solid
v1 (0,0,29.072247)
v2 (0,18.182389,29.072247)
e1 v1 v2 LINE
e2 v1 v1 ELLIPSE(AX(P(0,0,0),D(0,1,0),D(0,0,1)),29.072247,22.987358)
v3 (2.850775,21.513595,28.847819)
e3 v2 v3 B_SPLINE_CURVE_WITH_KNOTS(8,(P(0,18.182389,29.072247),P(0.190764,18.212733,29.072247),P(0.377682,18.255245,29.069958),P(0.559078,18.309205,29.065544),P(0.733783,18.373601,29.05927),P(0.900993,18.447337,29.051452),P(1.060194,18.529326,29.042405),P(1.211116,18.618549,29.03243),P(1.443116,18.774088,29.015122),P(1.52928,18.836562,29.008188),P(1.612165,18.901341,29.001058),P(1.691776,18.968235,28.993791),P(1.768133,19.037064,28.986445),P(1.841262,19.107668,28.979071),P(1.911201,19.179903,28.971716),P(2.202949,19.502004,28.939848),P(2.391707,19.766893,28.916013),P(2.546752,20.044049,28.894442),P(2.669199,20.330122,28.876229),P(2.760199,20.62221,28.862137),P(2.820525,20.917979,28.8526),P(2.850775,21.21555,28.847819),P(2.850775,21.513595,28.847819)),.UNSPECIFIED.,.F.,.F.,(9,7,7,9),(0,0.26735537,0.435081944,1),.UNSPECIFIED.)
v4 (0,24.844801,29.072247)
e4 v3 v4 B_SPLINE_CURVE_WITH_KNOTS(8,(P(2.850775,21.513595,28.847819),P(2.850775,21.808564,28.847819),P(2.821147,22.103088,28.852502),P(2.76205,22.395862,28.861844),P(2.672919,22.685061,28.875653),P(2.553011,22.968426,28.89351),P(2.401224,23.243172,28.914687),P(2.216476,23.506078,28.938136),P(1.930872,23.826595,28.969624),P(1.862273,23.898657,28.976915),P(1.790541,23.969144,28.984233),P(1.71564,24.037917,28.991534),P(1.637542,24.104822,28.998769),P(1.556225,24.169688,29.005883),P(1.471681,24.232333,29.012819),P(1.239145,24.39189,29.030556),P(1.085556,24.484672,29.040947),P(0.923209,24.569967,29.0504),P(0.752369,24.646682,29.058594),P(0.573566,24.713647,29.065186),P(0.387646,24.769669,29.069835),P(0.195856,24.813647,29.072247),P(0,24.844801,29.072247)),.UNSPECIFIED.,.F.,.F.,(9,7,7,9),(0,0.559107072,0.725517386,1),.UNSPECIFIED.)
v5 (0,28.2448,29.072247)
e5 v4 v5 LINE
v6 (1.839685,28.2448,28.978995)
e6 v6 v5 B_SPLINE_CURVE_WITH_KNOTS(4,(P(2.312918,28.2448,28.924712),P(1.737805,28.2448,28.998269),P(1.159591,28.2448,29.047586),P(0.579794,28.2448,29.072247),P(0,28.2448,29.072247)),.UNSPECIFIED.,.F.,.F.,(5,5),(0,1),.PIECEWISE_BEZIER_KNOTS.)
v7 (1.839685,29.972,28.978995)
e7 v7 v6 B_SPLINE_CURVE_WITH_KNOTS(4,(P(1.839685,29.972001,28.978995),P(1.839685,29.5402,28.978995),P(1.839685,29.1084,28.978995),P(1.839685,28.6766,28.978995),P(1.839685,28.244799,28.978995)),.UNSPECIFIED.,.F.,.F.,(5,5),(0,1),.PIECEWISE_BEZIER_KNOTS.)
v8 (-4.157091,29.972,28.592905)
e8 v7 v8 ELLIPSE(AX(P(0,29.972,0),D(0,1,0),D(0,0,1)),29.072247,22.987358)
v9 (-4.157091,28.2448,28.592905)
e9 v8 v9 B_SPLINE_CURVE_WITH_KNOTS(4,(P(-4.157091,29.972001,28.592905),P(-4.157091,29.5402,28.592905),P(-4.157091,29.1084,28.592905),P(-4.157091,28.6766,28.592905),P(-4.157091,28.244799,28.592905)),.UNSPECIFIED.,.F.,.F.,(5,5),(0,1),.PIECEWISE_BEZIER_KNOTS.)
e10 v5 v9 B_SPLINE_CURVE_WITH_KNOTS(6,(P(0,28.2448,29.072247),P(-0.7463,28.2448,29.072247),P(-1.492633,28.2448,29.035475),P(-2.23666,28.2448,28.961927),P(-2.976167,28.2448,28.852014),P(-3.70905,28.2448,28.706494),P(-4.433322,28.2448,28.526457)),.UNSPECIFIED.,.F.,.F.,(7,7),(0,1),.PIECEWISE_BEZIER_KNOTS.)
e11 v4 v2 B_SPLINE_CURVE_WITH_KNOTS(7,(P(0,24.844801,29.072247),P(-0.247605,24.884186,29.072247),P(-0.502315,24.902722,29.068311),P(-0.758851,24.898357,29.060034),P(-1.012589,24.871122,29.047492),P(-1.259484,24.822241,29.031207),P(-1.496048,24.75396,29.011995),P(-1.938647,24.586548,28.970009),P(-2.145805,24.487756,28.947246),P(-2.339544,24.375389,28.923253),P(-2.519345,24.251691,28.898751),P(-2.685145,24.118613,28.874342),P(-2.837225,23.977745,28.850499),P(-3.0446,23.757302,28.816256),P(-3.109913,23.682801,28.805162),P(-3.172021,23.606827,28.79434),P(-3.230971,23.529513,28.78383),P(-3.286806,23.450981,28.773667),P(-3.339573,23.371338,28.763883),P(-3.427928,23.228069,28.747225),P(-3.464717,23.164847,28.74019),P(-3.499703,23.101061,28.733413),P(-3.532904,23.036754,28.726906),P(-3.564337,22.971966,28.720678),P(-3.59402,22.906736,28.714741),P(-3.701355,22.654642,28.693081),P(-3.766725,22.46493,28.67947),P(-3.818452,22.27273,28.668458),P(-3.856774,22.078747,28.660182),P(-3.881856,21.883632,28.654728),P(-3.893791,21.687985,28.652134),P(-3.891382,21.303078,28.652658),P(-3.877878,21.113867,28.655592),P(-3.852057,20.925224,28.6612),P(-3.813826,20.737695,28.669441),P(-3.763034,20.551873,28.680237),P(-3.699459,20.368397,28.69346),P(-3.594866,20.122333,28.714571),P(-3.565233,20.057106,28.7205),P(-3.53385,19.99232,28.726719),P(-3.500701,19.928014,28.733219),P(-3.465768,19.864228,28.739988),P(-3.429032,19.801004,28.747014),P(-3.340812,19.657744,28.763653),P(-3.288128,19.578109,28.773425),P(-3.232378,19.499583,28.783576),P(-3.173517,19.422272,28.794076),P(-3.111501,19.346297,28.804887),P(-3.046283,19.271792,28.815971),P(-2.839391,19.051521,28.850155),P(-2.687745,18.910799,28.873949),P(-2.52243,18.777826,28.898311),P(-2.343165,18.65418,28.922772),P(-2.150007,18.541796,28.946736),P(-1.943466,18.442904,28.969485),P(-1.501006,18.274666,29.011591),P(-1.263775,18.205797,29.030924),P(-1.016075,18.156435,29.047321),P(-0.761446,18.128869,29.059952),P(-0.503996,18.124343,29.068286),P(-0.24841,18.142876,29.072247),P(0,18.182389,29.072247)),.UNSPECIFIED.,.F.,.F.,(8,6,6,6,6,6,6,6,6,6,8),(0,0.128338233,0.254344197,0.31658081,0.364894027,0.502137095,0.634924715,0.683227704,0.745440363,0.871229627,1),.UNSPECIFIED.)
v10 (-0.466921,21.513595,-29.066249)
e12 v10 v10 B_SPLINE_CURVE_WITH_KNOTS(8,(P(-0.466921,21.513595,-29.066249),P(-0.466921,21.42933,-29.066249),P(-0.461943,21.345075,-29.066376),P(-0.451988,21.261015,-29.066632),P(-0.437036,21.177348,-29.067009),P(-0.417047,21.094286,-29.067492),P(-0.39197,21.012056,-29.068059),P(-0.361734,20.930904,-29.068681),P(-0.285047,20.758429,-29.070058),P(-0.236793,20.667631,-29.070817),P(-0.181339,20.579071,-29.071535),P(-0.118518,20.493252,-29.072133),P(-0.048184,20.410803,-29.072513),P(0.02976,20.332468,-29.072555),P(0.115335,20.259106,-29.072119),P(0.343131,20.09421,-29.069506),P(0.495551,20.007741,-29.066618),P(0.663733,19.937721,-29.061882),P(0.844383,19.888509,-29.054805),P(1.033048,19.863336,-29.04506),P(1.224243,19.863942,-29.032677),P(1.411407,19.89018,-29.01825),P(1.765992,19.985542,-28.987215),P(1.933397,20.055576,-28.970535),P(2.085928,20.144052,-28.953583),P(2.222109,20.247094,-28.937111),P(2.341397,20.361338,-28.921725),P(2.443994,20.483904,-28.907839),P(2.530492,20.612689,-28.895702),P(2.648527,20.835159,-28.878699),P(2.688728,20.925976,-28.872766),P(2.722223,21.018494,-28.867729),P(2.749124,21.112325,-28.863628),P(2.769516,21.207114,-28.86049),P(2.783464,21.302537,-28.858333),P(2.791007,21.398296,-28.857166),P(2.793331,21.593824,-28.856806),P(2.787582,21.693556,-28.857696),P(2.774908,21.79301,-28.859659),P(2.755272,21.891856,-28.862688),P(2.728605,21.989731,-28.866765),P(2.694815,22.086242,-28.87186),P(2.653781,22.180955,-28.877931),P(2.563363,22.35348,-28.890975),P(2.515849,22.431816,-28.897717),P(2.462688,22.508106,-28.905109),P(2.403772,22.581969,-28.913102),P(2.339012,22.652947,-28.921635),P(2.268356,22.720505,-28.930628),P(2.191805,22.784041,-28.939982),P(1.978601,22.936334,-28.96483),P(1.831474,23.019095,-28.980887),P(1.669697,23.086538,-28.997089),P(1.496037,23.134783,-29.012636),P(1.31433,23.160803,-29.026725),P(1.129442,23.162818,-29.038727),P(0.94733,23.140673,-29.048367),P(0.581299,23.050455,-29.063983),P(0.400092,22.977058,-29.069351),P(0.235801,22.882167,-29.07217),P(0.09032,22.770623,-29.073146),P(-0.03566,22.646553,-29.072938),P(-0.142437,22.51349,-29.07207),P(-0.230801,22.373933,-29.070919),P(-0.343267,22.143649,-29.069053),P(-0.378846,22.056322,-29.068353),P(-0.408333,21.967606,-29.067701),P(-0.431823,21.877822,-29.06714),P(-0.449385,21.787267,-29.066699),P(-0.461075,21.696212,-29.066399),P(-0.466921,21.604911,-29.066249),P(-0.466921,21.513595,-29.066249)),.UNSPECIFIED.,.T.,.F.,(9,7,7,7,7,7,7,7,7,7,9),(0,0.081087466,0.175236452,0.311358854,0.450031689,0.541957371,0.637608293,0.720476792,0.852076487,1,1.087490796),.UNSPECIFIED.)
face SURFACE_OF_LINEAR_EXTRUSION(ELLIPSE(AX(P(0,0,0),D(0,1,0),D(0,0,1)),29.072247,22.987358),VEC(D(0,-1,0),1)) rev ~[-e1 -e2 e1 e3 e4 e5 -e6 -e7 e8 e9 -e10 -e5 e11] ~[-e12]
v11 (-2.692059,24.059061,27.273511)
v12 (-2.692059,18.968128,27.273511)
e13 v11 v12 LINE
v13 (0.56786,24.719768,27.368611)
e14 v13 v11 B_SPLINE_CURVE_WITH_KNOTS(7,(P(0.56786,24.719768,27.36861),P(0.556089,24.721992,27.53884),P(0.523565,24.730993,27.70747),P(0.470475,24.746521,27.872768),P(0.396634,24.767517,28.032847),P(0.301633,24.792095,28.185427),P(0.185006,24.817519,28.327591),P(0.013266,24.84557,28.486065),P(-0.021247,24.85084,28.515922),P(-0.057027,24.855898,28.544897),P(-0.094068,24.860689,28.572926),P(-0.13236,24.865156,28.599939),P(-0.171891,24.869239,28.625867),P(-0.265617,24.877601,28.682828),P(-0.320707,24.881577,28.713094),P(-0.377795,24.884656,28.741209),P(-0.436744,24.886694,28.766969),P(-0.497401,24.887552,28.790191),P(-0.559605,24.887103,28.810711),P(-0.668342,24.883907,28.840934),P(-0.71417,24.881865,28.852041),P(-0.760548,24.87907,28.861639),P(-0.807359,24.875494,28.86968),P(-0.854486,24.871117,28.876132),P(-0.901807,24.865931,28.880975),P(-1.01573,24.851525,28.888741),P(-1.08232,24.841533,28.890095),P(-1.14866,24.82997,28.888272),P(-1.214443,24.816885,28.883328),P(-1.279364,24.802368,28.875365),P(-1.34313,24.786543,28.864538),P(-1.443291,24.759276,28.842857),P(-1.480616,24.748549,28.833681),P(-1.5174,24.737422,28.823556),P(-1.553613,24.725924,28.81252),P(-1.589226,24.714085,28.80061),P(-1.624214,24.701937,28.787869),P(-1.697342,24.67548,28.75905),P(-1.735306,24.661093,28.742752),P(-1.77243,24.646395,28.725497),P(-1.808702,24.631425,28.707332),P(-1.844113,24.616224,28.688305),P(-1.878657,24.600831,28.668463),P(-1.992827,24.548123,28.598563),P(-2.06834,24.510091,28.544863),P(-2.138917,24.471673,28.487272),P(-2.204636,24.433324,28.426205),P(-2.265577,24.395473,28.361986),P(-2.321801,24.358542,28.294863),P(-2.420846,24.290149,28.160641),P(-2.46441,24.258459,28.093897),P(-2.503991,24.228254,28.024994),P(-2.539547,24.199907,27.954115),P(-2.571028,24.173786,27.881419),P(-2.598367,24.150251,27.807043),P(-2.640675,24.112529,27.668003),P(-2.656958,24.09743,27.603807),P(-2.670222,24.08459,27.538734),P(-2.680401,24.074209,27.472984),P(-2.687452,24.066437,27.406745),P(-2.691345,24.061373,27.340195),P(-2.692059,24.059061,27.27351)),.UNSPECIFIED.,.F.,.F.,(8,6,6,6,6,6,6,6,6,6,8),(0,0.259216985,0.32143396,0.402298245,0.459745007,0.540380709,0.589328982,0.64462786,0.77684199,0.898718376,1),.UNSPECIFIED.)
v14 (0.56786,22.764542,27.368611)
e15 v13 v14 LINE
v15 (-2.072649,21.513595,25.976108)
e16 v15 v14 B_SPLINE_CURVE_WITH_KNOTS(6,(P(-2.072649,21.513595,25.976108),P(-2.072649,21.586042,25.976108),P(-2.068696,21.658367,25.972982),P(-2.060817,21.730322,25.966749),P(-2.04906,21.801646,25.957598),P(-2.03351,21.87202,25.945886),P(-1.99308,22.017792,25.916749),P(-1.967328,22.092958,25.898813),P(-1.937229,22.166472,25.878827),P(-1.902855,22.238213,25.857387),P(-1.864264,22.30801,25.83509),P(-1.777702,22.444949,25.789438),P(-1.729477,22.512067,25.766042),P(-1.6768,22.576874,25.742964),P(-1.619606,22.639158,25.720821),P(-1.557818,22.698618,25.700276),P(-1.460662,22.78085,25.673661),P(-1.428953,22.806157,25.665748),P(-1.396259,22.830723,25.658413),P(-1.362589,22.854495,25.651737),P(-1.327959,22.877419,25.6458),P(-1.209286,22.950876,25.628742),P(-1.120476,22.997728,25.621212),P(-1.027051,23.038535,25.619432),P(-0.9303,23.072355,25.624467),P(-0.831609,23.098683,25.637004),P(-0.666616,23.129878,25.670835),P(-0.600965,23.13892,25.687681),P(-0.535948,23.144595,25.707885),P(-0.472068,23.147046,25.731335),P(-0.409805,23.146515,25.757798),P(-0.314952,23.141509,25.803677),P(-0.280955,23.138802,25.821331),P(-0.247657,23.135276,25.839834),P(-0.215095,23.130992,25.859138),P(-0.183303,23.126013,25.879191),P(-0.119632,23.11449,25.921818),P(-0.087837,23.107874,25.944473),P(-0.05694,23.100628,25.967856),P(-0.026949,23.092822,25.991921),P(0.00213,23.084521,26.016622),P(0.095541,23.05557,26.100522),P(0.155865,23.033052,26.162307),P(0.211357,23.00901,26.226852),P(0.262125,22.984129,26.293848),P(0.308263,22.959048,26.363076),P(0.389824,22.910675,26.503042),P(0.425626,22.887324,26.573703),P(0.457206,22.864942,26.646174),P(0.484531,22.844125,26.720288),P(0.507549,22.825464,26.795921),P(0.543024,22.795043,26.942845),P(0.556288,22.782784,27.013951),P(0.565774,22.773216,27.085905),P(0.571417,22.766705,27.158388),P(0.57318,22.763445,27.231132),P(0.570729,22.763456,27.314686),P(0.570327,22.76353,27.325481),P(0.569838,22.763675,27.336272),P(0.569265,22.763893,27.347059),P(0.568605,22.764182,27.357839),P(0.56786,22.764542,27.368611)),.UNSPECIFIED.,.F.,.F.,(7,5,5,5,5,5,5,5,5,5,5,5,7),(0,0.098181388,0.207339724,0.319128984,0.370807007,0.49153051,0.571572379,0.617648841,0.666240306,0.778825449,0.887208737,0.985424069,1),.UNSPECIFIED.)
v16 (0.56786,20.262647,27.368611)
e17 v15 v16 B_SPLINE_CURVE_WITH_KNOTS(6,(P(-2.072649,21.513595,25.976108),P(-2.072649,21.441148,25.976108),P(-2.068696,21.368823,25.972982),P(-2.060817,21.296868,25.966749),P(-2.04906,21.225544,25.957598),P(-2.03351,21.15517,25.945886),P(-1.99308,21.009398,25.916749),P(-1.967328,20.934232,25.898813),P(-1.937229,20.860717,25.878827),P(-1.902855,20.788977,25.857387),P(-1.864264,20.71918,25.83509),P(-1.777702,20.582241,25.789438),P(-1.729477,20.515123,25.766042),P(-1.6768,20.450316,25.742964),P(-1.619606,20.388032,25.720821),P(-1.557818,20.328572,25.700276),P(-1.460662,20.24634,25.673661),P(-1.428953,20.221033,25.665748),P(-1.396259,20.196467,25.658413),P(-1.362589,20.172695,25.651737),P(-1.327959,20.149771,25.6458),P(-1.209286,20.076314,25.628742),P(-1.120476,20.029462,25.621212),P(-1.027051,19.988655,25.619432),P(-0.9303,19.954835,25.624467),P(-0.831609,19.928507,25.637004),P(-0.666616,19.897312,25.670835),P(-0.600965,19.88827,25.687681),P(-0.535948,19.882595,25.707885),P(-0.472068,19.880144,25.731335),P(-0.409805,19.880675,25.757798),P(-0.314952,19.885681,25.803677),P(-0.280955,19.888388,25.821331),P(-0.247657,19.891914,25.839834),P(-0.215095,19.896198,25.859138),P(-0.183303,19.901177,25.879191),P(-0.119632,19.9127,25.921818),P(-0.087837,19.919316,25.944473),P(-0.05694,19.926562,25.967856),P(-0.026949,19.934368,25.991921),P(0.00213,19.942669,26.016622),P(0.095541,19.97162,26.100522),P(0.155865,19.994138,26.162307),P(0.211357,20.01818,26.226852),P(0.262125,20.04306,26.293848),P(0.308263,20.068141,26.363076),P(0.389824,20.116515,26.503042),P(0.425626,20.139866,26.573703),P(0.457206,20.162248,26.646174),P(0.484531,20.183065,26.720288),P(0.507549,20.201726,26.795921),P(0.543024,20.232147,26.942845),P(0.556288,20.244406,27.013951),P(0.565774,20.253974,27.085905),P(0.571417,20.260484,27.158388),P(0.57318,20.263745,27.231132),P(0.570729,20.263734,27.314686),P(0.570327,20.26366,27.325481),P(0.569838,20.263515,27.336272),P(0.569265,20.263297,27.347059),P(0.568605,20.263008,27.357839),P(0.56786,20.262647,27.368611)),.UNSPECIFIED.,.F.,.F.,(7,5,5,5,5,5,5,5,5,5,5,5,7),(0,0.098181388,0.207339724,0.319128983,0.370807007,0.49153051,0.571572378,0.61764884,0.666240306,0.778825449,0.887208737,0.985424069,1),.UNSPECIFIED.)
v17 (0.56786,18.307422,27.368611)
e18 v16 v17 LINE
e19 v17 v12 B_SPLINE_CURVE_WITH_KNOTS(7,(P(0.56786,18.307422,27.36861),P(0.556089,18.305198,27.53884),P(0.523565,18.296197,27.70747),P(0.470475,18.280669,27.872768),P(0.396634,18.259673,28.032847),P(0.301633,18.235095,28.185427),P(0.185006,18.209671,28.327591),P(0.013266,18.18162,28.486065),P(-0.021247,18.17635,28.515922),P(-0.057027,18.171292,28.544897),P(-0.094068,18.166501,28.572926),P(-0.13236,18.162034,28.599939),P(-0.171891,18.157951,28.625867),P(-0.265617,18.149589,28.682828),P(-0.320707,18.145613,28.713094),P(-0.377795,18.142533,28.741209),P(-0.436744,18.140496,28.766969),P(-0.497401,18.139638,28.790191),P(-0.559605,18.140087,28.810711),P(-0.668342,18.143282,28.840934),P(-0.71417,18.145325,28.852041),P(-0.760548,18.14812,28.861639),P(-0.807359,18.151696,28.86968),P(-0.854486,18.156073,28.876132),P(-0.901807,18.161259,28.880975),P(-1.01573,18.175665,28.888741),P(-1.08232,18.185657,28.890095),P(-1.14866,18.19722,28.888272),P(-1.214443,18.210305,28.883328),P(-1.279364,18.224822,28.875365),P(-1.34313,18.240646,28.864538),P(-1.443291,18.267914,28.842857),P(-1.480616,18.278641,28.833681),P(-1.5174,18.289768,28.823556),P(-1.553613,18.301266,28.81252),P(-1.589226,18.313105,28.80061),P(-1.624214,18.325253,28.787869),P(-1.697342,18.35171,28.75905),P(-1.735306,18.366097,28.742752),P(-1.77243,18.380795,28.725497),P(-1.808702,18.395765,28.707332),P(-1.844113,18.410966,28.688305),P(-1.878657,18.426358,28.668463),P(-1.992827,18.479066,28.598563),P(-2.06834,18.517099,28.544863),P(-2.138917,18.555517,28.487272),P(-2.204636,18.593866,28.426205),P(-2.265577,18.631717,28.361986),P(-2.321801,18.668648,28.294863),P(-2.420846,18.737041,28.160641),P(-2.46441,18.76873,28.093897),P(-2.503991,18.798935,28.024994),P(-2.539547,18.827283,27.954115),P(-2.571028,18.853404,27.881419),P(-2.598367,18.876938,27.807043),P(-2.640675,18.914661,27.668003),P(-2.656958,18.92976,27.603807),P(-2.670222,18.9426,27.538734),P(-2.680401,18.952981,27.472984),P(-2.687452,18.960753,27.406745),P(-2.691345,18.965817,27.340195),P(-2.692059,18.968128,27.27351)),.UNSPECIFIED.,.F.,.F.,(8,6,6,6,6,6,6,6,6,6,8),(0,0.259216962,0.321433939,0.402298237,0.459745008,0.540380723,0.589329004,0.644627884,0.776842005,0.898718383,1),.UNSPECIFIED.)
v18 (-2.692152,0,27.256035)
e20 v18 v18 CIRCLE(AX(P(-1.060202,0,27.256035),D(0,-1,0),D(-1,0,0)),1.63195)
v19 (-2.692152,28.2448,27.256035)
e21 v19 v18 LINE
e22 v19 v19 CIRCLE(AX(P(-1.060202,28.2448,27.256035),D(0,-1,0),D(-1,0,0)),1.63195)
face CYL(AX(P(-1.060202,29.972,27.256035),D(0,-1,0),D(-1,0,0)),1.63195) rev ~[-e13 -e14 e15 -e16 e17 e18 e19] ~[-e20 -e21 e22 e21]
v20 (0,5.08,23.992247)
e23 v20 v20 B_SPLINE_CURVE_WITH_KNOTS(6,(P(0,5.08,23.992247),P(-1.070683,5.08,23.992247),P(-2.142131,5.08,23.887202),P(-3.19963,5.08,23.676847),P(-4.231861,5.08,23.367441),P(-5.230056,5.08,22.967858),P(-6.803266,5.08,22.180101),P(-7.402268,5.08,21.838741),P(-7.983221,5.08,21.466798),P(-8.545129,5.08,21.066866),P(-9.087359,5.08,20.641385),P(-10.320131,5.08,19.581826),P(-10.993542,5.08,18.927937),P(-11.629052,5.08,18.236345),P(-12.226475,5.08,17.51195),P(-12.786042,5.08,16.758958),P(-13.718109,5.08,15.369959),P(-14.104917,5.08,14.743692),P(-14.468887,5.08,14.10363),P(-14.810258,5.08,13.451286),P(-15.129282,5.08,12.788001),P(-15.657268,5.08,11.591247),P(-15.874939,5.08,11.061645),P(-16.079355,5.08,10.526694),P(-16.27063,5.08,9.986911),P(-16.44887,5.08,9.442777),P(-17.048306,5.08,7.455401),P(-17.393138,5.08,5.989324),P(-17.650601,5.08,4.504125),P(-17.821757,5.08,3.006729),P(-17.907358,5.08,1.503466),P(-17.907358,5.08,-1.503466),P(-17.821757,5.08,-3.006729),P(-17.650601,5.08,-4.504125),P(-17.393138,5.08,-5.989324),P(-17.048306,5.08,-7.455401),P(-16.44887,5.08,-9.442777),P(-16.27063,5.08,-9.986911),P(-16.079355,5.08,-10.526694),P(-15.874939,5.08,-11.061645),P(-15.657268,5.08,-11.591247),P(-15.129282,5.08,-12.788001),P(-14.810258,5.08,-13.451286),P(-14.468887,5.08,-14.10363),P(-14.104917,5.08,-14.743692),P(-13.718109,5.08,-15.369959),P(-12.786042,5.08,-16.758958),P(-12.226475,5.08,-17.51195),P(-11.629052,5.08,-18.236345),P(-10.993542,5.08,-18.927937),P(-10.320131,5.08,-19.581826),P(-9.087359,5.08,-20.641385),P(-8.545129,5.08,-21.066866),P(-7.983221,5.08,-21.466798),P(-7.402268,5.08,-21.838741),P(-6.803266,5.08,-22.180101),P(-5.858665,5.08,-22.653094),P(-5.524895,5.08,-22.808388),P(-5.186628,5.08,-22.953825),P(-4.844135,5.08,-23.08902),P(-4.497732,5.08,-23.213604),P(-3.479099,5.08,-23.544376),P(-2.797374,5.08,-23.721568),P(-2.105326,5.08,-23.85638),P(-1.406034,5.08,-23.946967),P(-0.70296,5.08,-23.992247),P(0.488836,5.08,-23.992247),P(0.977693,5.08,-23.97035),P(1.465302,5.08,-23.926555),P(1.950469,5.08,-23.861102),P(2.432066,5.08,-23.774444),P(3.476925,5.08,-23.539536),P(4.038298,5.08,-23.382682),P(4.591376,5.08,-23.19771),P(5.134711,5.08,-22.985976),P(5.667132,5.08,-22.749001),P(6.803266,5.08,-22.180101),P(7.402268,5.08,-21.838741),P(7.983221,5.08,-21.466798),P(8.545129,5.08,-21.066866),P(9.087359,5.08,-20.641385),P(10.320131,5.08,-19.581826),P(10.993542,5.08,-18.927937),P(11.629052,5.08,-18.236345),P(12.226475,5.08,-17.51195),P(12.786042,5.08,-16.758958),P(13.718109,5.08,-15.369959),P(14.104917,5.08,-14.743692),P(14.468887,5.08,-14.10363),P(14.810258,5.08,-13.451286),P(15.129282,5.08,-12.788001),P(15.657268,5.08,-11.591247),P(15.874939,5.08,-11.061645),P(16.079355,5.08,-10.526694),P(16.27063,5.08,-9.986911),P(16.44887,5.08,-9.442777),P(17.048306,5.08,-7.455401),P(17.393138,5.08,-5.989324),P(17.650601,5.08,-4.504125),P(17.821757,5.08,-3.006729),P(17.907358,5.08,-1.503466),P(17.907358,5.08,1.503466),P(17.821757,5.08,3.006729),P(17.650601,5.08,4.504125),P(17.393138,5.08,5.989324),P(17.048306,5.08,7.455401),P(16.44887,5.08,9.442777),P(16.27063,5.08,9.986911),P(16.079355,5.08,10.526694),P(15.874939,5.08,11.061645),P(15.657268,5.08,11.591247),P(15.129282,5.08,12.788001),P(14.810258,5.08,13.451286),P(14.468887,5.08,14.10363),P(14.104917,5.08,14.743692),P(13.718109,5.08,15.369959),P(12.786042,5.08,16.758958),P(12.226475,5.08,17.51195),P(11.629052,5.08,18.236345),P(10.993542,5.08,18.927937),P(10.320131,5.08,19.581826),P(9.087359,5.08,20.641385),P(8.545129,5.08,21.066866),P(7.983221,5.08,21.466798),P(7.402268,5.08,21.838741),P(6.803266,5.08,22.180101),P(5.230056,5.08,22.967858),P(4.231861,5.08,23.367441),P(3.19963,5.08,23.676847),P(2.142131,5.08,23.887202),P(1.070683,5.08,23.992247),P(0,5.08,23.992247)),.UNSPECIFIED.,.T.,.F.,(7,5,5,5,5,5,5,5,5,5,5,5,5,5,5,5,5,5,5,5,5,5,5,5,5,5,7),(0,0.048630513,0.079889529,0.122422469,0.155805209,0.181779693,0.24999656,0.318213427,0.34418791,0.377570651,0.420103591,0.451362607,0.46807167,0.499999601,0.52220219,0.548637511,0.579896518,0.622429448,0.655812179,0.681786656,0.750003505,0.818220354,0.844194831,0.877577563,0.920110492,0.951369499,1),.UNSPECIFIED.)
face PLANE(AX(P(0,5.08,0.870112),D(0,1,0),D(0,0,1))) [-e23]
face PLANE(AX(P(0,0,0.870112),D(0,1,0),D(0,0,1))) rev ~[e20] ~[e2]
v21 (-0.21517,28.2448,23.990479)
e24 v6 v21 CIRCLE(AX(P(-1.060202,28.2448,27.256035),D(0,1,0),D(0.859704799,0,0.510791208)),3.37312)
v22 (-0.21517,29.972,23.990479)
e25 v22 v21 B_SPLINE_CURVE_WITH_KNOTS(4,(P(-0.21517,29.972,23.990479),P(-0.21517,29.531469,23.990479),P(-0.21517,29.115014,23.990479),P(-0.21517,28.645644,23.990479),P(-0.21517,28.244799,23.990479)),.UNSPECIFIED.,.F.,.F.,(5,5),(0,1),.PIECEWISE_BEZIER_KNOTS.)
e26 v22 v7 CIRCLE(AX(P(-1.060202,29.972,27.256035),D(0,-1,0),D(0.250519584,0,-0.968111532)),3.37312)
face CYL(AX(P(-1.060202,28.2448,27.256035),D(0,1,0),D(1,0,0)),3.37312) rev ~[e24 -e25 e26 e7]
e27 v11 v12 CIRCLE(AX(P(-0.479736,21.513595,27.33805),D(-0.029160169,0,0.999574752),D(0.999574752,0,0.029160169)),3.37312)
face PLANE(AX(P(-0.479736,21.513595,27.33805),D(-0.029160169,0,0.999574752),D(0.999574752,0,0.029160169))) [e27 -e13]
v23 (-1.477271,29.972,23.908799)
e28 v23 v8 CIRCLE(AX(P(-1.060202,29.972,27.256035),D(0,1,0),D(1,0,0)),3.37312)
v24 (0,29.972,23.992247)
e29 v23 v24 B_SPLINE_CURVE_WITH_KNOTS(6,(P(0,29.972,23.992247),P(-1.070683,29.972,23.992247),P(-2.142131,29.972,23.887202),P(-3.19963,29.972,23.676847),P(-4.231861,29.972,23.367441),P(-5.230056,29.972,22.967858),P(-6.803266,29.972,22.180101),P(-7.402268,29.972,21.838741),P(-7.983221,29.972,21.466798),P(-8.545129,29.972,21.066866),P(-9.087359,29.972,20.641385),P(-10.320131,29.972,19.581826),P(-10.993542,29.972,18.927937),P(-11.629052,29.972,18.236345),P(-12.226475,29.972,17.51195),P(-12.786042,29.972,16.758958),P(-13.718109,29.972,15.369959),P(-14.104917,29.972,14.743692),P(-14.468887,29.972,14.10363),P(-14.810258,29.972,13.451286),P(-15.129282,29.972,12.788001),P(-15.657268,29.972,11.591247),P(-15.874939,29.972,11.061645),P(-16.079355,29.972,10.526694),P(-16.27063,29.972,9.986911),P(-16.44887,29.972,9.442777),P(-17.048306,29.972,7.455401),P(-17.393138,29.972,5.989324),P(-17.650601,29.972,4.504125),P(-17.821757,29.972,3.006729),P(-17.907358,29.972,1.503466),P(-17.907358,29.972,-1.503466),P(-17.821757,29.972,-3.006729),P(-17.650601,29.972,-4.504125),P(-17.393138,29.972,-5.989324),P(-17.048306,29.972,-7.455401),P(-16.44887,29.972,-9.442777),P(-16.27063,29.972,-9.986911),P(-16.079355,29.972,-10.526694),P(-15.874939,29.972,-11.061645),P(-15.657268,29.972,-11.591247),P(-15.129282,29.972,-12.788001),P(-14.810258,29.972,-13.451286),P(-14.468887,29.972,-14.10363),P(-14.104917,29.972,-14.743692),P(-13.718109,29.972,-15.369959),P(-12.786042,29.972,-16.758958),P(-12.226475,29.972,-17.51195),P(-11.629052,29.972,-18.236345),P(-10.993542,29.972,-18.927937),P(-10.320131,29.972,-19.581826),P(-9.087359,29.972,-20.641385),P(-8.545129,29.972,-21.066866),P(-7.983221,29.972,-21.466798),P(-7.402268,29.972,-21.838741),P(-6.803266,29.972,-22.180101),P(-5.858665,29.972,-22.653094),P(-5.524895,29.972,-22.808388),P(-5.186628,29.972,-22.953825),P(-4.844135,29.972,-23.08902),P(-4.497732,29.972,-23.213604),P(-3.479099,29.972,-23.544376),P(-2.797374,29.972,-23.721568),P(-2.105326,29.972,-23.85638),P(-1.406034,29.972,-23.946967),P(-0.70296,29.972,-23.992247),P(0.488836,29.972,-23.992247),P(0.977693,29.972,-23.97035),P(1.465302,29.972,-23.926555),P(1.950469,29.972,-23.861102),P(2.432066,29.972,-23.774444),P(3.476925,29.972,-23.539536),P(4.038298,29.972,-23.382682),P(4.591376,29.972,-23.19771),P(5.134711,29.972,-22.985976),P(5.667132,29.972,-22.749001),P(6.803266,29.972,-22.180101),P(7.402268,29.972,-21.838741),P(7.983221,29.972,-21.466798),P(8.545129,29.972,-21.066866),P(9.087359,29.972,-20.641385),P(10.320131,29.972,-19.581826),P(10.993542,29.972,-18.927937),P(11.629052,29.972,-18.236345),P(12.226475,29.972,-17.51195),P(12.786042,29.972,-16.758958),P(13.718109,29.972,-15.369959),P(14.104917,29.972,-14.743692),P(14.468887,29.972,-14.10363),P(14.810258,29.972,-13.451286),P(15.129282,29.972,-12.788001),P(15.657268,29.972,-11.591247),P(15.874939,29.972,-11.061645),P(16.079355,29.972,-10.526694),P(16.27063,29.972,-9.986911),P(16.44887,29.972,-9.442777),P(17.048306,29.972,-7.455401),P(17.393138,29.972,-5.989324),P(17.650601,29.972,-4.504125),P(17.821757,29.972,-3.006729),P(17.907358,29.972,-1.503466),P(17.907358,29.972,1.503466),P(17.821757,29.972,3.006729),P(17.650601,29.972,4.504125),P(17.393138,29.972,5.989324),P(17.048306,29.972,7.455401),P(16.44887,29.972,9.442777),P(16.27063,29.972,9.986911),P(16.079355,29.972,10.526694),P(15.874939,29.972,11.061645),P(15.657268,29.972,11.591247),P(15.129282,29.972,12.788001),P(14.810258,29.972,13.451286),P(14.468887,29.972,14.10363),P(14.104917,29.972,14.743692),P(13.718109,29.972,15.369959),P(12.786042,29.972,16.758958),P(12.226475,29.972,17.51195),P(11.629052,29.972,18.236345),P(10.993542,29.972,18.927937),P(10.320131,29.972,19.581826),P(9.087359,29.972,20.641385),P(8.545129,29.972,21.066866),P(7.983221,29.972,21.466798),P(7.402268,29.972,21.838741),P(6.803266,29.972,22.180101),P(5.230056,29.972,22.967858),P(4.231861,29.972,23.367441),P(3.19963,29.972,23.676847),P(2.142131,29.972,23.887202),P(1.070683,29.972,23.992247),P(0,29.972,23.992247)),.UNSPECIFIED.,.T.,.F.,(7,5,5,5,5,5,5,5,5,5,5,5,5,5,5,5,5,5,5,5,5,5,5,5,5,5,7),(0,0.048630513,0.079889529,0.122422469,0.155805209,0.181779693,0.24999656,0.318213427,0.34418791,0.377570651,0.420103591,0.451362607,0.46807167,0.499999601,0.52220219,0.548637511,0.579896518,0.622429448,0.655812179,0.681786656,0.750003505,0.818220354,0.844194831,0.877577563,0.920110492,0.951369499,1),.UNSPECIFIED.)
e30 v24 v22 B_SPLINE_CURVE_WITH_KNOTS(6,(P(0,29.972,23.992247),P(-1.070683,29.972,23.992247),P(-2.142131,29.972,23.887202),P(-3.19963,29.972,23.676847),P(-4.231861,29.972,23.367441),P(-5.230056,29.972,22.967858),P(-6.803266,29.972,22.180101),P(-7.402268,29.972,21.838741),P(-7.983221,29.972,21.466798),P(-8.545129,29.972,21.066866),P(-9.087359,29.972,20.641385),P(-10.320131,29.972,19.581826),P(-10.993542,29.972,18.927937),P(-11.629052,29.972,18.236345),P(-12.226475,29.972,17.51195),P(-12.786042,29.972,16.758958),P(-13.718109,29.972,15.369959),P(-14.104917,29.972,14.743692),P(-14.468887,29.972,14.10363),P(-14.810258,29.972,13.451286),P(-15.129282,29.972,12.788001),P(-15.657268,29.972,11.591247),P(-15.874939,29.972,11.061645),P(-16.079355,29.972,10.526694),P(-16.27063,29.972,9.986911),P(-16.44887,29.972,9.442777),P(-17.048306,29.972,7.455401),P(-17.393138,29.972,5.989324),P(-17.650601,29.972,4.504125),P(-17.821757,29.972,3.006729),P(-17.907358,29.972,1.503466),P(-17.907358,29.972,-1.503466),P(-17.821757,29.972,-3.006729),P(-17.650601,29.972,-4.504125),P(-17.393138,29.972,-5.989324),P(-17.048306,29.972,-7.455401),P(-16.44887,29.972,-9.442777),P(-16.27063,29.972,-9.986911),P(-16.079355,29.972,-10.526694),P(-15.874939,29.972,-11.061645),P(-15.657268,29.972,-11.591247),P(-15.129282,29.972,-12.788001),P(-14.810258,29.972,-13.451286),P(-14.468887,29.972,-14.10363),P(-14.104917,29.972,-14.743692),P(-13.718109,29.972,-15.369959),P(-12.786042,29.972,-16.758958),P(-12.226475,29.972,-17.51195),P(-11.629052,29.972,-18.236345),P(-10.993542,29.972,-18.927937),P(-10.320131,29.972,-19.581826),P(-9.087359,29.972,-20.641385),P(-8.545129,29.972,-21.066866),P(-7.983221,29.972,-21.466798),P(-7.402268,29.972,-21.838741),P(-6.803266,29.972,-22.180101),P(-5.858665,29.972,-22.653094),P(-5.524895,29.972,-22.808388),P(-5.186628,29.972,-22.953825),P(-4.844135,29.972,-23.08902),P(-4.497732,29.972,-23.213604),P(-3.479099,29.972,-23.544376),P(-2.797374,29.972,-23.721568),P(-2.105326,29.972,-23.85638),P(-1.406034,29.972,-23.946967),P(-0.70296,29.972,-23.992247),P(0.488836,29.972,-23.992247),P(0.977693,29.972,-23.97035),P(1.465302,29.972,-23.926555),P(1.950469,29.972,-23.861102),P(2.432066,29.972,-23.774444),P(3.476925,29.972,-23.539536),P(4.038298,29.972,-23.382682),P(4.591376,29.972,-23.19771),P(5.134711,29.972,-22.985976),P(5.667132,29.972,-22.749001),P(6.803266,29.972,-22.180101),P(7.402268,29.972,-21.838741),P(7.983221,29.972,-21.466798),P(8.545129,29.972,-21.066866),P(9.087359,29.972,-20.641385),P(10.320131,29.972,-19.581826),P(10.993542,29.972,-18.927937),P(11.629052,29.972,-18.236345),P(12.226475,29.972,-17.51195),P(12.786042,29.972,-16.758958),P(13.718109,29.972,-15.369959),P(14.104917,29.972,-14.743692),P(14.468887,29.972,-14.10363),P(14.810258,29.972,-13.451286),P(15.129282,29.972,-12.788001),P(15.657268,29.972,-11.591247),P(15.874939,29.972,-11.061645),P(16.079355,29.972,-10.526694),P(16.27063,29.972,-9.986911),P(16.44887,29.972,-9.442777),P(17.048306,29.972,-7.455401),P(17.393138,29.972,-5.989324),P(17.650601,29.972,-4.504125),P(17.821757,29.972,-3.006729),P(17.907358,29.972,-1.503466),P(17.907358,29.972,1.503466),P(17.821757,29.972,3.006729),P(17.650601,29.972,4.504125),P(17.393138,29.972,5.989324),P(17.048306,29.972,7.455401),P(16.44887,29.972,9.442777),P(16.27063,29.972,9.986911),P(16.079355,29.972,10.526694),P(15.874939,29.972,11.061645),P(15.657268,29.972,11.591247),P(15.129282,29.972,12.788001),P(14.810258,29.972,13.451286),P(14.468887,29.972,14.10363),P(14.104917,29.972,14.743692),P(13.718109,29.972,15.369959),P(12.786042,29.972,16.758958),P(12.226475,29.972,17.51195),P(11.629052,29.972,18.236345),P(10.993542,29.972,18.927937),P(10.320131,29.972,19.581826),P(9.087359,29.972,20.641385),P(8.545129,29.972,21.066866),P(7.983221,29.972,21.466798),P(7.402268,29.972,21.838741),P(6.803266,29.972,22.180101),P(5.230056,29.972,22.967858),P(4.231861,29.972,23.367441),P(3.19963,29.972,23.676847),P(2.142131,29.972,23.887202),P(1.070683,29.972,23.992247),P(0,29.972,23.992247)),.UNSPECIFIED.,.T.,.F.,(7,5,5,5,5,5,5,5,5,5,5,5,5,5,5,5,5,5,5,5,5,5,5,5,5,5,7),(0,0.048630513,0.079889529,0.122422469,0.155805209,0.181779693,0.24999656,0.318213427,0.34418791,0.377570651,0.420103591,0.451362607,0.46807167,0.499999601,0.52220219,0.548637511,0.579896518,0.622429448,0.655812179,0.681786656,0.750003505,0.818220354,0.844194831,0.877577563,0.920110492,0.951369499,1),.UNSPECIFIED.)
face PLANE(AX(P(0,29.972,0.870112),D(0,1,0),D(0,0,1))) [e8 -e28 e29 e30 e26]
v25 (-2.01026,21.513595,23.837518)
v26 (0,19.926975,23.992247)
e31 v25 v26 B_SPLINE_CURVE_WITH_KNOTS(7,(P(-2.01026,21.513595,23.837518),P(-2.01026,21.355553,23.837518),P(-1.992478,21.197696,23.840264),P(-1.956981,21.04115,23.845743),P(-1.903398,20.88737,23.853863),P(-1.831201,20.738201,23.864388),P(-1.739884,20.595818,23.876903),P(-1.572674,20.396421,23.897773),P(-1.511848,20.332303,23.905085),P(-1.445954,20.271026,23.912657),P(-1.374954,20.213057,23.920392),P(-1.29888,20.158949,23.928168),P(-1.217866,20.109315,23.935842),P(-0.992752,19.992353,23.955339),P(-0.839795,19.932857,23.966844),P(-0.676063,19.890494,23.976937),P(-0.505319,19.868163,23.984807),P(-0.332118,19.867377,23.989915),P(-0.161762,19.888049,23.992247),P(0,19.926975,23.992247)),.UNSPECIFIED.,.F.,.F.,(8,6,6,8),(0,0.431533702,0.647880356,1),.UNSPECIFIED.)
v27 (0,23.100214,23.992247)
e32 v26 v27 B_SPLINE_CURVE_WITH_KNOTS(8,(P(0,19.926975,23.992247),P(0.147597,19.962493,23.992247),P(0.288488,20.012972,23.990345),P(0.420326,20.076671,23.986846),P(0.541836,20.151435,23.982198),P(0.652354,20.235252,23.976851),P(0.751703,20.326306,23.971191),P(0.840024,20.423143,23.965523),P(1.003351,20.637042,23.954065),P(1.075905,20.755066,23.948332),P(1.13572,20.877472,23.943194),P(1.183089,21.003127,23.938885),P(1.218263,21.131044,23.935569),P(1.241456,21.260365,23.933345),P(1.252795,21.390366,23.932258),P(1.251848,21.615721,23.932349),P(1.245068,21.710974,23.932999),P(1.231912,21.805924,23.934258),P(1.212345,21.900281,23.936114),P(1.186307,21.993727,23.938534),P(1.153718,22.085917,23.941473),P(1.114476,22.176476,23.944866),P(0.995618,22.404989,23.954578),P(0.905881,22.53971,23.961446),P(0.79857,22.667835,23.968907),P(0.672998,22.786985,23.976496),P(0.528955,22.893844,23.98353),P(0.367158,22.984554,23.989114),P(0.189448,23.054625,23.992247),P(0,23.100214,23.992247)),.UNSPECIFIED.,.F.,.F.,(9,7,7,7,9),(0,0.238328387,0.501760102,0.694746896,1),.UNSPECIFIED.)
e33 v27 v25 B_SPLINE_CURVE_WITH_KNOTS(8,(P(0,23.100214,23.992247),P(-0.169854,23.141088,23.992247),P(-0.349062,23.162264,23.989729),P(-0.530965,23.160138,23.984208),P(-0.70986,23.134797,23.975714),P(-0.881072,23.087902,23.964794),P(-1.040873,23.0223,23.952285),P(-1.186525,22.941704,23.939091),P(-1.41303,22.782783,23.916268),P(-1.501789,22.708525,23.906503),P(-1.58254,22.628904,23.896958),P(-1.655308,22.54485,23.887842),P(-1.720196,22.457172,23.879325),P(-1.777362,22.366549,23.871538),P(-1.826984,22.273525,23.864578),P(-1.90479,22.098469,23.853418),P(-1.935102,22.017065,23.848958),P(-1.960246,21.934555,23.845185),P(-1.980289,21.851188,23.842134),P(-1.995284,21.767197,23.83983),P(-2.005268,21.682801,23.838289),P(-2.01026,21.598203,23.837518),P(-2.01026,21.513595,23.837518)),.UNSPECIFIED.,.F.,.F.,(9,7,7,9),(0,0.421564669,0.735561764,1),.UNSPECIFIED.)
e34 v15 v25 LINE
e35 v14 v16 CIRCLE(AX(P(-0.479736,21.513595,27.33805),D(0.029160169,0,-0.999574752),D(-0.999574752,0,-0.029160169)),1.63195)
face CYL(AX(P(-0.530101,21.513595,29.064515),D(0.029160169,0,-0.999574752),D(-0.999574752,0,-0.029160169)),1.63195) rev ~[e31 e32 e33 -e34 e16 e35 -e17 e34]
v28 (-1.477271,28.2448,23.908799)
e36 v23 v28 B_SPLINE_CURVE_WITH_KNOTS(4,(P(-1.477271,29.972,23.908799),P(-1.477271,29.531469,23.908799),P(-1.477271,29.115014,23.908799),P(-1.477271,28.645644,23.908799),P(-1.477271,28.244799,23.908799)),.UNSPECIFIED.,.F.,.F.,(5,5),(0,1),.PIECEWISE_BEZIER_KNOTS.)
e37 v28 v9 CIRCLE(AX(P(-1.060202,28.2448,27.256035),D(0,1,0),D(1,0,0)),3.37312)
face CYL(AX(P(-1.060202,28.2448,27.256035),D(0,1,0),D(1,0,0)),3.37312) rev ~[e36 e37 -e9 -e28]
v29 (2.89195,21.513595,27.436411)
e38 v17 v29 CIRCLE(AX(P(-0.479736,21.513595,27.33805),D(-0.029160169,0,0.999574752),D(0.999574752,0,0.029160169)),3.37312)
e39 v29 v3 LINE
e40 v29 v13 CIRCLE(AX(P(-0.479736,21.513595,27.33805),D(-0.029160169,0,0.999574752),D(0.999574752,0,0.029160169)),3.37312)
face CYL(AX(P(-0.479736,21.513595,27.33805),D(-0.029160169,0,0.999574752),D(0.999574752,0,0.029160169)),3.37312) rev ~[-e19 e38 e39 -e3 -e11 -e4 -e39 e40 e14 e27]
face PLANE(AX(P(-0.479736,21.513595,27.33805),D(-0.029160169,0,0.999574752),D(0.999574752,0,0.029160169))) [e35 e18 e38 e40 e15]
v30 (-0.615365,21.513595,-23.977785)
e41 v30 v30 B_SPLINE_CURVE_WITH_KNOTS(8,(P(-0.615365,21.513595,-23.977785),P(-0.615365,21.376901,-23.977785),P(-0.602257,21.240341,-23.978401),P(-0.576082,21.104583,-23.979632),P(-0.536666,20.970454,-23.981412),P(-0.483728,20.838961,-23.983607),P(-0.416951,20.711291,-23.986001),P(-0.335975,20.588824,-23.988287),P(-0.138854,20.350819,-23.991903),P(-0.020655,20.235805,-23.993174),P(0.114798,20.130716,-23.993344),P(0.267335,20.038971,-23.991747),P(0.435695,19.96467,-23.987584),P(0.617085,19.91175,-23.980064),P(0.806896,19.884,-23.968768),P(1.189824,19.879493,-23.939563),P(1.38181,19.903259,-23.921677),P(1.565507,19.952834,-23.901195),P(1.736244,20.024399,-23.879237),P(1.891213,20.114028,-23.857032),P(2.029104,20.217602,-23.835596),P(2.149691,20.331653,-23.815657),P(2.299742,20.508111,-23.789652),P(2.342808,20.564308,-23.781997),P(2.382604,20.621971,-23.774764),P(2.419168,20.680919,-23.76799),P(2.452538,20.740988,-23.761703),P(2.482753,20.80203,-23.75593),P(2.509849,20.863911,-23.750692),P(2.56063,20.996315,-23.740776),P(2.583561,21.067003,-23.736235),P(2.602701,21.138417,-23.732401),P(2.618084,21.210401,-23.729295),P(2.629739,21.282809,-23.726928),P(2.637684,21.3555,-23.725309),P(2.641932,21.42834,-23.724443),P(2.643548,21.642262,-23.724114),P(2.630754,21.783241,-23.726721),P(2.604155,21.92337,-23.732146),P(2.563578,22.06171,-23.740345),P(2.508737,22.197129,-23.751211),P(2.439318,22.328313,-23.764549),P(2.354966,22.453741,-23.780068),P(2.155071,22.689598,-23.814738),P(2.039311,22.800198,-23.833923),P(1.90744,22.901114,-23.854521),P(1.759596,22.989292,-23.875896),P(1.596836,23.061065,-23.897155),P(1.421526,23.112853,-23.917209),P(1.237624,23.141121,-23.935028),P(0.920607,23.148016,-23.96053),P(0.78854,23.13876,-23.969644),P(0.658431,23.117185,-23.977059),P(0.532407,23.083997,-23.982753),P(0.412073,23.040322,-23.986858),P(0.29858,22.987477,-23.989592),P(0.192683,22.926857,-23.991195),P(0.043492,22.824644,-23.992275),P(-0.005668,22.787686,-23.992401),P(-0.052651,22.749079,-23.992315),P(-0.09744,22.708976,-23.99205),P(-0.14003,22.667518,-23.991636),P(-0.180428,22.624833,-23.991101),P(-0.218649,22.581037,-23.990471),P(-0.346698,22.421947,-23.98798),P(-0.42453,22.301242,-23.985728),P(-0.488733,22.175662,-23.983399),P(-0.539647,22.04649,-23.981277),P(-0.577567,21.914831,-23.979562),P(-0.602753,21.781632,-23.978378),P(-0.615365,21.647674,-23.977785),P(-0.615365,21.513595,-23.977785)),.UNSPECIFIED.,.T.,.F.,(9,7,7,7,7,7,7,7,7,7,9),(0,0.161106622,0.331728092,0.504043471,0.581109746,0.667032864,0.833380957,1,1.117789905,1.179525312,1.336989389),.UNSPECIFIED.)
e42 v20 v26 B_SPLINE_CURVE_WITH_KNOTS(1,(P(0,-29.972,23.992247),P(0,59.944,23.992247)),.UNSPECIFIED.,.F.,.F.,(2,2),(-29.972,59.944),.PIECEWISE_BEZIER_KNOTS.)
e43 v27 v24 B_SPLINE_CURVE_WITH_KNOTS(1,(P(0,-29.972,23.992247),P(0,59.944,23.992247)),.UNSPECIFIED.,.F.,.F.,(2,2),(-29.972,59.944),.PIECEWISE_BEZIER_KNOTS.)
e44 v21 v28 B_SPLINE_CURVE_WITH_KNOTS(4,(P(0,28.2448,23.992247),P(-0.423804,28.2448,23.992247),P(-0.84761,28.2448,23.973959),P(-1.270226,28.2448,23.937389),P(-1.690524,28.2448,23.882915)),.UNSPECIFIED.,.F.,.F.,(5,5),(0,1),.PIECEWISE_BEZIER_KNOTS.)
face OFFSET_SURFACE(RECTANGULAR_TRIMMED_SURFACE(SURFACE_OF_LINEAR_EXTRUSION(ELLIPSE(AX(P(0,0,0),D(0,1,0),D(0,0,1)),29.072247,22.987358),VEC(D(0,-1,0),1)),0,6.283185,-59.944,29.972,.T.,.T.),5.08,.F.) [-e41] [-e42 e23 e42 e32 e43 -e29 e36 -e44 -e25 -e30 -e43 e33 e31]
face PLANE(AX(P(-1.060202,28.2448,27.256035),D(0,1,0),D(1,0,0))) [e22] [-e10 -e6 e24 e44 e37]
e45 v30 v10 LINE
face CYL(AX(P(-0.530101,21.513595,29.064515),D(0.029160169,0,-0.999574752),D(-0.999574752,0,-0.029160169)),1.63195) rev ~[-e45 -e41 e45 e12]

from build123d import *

# Parameters (mm, degrees)
SKETCH1_RX                                          = 29.072246502
SKETCH1_RY                                          = 22.9873577
BOSS_EXTRUDE1_DEPTH                                 = 29.972
SHELL1_T                                            = -5.08
CBORE_FOR_4_BINDING_HEAD_MACHINE_SCREW1_D           = 3.2639
CBORE_FOR_4_BINDING_HEAD_MACHINE_SCREW1_CBORE_D     = 6.74624
CBORE_FOR_4_BINDING_HEAD_MACHINE_SCREW1_CBORE_DEPTH = 1.7272
CBORE_FOR_4_BINDING_HEAD_MACHINE_SCREW2_D           = 3.2639
CBORE_FOR_4_BINDING_HEAD_MACHINE_SCREW2_CBORE_D     = 6.74624
CBORE_FOR_4_BINDING_HEAD_MACHINE_SCREW2_CBORE_DEPTH = 1.7272


with BuildPart() as part:
    # Sketch1 → Boss-Extrude1 (new body)
    with BuildSketch(Plane(origin=(0, 0, 0), x_dir=(1, 0, 0), z_dir=(0, 1, 0))):
        with Locations(Location((0, 0), (0, 0, -90))):
            Ellipse(SKETCH1_RX, SKETCH1_RY)
    extrude(amount=BOSS_EXTRUDE1_DEPTH)

    # Shell1
    shell1_openings = [part.faces().sort_by_distance(p)[0] for p in [
        (0, 29.972, 0),
    ]]
    offset(amount=SHELL1_T, openings=shell1_openings, kind=Kind.INTERSECTION)

    # CBORE for #4 Binding Head Machine Screw1 (through all)
    with Locations(Plane(origin=(0, 29.972, 0), x_dir=(1, 0, 0), z_dir=(0, 1, 0))):
        with Locations((-1.060202343, -27.256035238)):
            CounterBoreHole(CBORE_FOR_4_BINDING_HEAD_MACHINE_SCREW1_D / 2, CBORE_FOR_4_BINDING_HEAD_MACHINE_SCREW1_CBORE_D / 2, CBORE_FOR_4_BINDING_HEAD_MACHINE_SCREW1_CBORE_DEPTH)

    # CBORE for #4 Binding Head Machine Screw2 (through all)
    with Locations(Plane(origin=(-0.530101172, 21.513594933, 29.064515323), x_dir=(0.999574752, 0, 0.029160169), z_dir=(-0.029160169, 0, 0.999574752))):
        with Locations((0, 0)):
            CounterBoreHole(CBORE_FOR_4_BINDING_HEAD_MACHINE_SCREW2_D / 2, CBORE_FOR_4_BINDING_HEAD_MACHINE_SCREW2_CBORE_D / 2, CBORE_FOR_4_BINDING_HEAD_MACHINE_SCREW2_CBORE_DEPTH)


solid = part.part
